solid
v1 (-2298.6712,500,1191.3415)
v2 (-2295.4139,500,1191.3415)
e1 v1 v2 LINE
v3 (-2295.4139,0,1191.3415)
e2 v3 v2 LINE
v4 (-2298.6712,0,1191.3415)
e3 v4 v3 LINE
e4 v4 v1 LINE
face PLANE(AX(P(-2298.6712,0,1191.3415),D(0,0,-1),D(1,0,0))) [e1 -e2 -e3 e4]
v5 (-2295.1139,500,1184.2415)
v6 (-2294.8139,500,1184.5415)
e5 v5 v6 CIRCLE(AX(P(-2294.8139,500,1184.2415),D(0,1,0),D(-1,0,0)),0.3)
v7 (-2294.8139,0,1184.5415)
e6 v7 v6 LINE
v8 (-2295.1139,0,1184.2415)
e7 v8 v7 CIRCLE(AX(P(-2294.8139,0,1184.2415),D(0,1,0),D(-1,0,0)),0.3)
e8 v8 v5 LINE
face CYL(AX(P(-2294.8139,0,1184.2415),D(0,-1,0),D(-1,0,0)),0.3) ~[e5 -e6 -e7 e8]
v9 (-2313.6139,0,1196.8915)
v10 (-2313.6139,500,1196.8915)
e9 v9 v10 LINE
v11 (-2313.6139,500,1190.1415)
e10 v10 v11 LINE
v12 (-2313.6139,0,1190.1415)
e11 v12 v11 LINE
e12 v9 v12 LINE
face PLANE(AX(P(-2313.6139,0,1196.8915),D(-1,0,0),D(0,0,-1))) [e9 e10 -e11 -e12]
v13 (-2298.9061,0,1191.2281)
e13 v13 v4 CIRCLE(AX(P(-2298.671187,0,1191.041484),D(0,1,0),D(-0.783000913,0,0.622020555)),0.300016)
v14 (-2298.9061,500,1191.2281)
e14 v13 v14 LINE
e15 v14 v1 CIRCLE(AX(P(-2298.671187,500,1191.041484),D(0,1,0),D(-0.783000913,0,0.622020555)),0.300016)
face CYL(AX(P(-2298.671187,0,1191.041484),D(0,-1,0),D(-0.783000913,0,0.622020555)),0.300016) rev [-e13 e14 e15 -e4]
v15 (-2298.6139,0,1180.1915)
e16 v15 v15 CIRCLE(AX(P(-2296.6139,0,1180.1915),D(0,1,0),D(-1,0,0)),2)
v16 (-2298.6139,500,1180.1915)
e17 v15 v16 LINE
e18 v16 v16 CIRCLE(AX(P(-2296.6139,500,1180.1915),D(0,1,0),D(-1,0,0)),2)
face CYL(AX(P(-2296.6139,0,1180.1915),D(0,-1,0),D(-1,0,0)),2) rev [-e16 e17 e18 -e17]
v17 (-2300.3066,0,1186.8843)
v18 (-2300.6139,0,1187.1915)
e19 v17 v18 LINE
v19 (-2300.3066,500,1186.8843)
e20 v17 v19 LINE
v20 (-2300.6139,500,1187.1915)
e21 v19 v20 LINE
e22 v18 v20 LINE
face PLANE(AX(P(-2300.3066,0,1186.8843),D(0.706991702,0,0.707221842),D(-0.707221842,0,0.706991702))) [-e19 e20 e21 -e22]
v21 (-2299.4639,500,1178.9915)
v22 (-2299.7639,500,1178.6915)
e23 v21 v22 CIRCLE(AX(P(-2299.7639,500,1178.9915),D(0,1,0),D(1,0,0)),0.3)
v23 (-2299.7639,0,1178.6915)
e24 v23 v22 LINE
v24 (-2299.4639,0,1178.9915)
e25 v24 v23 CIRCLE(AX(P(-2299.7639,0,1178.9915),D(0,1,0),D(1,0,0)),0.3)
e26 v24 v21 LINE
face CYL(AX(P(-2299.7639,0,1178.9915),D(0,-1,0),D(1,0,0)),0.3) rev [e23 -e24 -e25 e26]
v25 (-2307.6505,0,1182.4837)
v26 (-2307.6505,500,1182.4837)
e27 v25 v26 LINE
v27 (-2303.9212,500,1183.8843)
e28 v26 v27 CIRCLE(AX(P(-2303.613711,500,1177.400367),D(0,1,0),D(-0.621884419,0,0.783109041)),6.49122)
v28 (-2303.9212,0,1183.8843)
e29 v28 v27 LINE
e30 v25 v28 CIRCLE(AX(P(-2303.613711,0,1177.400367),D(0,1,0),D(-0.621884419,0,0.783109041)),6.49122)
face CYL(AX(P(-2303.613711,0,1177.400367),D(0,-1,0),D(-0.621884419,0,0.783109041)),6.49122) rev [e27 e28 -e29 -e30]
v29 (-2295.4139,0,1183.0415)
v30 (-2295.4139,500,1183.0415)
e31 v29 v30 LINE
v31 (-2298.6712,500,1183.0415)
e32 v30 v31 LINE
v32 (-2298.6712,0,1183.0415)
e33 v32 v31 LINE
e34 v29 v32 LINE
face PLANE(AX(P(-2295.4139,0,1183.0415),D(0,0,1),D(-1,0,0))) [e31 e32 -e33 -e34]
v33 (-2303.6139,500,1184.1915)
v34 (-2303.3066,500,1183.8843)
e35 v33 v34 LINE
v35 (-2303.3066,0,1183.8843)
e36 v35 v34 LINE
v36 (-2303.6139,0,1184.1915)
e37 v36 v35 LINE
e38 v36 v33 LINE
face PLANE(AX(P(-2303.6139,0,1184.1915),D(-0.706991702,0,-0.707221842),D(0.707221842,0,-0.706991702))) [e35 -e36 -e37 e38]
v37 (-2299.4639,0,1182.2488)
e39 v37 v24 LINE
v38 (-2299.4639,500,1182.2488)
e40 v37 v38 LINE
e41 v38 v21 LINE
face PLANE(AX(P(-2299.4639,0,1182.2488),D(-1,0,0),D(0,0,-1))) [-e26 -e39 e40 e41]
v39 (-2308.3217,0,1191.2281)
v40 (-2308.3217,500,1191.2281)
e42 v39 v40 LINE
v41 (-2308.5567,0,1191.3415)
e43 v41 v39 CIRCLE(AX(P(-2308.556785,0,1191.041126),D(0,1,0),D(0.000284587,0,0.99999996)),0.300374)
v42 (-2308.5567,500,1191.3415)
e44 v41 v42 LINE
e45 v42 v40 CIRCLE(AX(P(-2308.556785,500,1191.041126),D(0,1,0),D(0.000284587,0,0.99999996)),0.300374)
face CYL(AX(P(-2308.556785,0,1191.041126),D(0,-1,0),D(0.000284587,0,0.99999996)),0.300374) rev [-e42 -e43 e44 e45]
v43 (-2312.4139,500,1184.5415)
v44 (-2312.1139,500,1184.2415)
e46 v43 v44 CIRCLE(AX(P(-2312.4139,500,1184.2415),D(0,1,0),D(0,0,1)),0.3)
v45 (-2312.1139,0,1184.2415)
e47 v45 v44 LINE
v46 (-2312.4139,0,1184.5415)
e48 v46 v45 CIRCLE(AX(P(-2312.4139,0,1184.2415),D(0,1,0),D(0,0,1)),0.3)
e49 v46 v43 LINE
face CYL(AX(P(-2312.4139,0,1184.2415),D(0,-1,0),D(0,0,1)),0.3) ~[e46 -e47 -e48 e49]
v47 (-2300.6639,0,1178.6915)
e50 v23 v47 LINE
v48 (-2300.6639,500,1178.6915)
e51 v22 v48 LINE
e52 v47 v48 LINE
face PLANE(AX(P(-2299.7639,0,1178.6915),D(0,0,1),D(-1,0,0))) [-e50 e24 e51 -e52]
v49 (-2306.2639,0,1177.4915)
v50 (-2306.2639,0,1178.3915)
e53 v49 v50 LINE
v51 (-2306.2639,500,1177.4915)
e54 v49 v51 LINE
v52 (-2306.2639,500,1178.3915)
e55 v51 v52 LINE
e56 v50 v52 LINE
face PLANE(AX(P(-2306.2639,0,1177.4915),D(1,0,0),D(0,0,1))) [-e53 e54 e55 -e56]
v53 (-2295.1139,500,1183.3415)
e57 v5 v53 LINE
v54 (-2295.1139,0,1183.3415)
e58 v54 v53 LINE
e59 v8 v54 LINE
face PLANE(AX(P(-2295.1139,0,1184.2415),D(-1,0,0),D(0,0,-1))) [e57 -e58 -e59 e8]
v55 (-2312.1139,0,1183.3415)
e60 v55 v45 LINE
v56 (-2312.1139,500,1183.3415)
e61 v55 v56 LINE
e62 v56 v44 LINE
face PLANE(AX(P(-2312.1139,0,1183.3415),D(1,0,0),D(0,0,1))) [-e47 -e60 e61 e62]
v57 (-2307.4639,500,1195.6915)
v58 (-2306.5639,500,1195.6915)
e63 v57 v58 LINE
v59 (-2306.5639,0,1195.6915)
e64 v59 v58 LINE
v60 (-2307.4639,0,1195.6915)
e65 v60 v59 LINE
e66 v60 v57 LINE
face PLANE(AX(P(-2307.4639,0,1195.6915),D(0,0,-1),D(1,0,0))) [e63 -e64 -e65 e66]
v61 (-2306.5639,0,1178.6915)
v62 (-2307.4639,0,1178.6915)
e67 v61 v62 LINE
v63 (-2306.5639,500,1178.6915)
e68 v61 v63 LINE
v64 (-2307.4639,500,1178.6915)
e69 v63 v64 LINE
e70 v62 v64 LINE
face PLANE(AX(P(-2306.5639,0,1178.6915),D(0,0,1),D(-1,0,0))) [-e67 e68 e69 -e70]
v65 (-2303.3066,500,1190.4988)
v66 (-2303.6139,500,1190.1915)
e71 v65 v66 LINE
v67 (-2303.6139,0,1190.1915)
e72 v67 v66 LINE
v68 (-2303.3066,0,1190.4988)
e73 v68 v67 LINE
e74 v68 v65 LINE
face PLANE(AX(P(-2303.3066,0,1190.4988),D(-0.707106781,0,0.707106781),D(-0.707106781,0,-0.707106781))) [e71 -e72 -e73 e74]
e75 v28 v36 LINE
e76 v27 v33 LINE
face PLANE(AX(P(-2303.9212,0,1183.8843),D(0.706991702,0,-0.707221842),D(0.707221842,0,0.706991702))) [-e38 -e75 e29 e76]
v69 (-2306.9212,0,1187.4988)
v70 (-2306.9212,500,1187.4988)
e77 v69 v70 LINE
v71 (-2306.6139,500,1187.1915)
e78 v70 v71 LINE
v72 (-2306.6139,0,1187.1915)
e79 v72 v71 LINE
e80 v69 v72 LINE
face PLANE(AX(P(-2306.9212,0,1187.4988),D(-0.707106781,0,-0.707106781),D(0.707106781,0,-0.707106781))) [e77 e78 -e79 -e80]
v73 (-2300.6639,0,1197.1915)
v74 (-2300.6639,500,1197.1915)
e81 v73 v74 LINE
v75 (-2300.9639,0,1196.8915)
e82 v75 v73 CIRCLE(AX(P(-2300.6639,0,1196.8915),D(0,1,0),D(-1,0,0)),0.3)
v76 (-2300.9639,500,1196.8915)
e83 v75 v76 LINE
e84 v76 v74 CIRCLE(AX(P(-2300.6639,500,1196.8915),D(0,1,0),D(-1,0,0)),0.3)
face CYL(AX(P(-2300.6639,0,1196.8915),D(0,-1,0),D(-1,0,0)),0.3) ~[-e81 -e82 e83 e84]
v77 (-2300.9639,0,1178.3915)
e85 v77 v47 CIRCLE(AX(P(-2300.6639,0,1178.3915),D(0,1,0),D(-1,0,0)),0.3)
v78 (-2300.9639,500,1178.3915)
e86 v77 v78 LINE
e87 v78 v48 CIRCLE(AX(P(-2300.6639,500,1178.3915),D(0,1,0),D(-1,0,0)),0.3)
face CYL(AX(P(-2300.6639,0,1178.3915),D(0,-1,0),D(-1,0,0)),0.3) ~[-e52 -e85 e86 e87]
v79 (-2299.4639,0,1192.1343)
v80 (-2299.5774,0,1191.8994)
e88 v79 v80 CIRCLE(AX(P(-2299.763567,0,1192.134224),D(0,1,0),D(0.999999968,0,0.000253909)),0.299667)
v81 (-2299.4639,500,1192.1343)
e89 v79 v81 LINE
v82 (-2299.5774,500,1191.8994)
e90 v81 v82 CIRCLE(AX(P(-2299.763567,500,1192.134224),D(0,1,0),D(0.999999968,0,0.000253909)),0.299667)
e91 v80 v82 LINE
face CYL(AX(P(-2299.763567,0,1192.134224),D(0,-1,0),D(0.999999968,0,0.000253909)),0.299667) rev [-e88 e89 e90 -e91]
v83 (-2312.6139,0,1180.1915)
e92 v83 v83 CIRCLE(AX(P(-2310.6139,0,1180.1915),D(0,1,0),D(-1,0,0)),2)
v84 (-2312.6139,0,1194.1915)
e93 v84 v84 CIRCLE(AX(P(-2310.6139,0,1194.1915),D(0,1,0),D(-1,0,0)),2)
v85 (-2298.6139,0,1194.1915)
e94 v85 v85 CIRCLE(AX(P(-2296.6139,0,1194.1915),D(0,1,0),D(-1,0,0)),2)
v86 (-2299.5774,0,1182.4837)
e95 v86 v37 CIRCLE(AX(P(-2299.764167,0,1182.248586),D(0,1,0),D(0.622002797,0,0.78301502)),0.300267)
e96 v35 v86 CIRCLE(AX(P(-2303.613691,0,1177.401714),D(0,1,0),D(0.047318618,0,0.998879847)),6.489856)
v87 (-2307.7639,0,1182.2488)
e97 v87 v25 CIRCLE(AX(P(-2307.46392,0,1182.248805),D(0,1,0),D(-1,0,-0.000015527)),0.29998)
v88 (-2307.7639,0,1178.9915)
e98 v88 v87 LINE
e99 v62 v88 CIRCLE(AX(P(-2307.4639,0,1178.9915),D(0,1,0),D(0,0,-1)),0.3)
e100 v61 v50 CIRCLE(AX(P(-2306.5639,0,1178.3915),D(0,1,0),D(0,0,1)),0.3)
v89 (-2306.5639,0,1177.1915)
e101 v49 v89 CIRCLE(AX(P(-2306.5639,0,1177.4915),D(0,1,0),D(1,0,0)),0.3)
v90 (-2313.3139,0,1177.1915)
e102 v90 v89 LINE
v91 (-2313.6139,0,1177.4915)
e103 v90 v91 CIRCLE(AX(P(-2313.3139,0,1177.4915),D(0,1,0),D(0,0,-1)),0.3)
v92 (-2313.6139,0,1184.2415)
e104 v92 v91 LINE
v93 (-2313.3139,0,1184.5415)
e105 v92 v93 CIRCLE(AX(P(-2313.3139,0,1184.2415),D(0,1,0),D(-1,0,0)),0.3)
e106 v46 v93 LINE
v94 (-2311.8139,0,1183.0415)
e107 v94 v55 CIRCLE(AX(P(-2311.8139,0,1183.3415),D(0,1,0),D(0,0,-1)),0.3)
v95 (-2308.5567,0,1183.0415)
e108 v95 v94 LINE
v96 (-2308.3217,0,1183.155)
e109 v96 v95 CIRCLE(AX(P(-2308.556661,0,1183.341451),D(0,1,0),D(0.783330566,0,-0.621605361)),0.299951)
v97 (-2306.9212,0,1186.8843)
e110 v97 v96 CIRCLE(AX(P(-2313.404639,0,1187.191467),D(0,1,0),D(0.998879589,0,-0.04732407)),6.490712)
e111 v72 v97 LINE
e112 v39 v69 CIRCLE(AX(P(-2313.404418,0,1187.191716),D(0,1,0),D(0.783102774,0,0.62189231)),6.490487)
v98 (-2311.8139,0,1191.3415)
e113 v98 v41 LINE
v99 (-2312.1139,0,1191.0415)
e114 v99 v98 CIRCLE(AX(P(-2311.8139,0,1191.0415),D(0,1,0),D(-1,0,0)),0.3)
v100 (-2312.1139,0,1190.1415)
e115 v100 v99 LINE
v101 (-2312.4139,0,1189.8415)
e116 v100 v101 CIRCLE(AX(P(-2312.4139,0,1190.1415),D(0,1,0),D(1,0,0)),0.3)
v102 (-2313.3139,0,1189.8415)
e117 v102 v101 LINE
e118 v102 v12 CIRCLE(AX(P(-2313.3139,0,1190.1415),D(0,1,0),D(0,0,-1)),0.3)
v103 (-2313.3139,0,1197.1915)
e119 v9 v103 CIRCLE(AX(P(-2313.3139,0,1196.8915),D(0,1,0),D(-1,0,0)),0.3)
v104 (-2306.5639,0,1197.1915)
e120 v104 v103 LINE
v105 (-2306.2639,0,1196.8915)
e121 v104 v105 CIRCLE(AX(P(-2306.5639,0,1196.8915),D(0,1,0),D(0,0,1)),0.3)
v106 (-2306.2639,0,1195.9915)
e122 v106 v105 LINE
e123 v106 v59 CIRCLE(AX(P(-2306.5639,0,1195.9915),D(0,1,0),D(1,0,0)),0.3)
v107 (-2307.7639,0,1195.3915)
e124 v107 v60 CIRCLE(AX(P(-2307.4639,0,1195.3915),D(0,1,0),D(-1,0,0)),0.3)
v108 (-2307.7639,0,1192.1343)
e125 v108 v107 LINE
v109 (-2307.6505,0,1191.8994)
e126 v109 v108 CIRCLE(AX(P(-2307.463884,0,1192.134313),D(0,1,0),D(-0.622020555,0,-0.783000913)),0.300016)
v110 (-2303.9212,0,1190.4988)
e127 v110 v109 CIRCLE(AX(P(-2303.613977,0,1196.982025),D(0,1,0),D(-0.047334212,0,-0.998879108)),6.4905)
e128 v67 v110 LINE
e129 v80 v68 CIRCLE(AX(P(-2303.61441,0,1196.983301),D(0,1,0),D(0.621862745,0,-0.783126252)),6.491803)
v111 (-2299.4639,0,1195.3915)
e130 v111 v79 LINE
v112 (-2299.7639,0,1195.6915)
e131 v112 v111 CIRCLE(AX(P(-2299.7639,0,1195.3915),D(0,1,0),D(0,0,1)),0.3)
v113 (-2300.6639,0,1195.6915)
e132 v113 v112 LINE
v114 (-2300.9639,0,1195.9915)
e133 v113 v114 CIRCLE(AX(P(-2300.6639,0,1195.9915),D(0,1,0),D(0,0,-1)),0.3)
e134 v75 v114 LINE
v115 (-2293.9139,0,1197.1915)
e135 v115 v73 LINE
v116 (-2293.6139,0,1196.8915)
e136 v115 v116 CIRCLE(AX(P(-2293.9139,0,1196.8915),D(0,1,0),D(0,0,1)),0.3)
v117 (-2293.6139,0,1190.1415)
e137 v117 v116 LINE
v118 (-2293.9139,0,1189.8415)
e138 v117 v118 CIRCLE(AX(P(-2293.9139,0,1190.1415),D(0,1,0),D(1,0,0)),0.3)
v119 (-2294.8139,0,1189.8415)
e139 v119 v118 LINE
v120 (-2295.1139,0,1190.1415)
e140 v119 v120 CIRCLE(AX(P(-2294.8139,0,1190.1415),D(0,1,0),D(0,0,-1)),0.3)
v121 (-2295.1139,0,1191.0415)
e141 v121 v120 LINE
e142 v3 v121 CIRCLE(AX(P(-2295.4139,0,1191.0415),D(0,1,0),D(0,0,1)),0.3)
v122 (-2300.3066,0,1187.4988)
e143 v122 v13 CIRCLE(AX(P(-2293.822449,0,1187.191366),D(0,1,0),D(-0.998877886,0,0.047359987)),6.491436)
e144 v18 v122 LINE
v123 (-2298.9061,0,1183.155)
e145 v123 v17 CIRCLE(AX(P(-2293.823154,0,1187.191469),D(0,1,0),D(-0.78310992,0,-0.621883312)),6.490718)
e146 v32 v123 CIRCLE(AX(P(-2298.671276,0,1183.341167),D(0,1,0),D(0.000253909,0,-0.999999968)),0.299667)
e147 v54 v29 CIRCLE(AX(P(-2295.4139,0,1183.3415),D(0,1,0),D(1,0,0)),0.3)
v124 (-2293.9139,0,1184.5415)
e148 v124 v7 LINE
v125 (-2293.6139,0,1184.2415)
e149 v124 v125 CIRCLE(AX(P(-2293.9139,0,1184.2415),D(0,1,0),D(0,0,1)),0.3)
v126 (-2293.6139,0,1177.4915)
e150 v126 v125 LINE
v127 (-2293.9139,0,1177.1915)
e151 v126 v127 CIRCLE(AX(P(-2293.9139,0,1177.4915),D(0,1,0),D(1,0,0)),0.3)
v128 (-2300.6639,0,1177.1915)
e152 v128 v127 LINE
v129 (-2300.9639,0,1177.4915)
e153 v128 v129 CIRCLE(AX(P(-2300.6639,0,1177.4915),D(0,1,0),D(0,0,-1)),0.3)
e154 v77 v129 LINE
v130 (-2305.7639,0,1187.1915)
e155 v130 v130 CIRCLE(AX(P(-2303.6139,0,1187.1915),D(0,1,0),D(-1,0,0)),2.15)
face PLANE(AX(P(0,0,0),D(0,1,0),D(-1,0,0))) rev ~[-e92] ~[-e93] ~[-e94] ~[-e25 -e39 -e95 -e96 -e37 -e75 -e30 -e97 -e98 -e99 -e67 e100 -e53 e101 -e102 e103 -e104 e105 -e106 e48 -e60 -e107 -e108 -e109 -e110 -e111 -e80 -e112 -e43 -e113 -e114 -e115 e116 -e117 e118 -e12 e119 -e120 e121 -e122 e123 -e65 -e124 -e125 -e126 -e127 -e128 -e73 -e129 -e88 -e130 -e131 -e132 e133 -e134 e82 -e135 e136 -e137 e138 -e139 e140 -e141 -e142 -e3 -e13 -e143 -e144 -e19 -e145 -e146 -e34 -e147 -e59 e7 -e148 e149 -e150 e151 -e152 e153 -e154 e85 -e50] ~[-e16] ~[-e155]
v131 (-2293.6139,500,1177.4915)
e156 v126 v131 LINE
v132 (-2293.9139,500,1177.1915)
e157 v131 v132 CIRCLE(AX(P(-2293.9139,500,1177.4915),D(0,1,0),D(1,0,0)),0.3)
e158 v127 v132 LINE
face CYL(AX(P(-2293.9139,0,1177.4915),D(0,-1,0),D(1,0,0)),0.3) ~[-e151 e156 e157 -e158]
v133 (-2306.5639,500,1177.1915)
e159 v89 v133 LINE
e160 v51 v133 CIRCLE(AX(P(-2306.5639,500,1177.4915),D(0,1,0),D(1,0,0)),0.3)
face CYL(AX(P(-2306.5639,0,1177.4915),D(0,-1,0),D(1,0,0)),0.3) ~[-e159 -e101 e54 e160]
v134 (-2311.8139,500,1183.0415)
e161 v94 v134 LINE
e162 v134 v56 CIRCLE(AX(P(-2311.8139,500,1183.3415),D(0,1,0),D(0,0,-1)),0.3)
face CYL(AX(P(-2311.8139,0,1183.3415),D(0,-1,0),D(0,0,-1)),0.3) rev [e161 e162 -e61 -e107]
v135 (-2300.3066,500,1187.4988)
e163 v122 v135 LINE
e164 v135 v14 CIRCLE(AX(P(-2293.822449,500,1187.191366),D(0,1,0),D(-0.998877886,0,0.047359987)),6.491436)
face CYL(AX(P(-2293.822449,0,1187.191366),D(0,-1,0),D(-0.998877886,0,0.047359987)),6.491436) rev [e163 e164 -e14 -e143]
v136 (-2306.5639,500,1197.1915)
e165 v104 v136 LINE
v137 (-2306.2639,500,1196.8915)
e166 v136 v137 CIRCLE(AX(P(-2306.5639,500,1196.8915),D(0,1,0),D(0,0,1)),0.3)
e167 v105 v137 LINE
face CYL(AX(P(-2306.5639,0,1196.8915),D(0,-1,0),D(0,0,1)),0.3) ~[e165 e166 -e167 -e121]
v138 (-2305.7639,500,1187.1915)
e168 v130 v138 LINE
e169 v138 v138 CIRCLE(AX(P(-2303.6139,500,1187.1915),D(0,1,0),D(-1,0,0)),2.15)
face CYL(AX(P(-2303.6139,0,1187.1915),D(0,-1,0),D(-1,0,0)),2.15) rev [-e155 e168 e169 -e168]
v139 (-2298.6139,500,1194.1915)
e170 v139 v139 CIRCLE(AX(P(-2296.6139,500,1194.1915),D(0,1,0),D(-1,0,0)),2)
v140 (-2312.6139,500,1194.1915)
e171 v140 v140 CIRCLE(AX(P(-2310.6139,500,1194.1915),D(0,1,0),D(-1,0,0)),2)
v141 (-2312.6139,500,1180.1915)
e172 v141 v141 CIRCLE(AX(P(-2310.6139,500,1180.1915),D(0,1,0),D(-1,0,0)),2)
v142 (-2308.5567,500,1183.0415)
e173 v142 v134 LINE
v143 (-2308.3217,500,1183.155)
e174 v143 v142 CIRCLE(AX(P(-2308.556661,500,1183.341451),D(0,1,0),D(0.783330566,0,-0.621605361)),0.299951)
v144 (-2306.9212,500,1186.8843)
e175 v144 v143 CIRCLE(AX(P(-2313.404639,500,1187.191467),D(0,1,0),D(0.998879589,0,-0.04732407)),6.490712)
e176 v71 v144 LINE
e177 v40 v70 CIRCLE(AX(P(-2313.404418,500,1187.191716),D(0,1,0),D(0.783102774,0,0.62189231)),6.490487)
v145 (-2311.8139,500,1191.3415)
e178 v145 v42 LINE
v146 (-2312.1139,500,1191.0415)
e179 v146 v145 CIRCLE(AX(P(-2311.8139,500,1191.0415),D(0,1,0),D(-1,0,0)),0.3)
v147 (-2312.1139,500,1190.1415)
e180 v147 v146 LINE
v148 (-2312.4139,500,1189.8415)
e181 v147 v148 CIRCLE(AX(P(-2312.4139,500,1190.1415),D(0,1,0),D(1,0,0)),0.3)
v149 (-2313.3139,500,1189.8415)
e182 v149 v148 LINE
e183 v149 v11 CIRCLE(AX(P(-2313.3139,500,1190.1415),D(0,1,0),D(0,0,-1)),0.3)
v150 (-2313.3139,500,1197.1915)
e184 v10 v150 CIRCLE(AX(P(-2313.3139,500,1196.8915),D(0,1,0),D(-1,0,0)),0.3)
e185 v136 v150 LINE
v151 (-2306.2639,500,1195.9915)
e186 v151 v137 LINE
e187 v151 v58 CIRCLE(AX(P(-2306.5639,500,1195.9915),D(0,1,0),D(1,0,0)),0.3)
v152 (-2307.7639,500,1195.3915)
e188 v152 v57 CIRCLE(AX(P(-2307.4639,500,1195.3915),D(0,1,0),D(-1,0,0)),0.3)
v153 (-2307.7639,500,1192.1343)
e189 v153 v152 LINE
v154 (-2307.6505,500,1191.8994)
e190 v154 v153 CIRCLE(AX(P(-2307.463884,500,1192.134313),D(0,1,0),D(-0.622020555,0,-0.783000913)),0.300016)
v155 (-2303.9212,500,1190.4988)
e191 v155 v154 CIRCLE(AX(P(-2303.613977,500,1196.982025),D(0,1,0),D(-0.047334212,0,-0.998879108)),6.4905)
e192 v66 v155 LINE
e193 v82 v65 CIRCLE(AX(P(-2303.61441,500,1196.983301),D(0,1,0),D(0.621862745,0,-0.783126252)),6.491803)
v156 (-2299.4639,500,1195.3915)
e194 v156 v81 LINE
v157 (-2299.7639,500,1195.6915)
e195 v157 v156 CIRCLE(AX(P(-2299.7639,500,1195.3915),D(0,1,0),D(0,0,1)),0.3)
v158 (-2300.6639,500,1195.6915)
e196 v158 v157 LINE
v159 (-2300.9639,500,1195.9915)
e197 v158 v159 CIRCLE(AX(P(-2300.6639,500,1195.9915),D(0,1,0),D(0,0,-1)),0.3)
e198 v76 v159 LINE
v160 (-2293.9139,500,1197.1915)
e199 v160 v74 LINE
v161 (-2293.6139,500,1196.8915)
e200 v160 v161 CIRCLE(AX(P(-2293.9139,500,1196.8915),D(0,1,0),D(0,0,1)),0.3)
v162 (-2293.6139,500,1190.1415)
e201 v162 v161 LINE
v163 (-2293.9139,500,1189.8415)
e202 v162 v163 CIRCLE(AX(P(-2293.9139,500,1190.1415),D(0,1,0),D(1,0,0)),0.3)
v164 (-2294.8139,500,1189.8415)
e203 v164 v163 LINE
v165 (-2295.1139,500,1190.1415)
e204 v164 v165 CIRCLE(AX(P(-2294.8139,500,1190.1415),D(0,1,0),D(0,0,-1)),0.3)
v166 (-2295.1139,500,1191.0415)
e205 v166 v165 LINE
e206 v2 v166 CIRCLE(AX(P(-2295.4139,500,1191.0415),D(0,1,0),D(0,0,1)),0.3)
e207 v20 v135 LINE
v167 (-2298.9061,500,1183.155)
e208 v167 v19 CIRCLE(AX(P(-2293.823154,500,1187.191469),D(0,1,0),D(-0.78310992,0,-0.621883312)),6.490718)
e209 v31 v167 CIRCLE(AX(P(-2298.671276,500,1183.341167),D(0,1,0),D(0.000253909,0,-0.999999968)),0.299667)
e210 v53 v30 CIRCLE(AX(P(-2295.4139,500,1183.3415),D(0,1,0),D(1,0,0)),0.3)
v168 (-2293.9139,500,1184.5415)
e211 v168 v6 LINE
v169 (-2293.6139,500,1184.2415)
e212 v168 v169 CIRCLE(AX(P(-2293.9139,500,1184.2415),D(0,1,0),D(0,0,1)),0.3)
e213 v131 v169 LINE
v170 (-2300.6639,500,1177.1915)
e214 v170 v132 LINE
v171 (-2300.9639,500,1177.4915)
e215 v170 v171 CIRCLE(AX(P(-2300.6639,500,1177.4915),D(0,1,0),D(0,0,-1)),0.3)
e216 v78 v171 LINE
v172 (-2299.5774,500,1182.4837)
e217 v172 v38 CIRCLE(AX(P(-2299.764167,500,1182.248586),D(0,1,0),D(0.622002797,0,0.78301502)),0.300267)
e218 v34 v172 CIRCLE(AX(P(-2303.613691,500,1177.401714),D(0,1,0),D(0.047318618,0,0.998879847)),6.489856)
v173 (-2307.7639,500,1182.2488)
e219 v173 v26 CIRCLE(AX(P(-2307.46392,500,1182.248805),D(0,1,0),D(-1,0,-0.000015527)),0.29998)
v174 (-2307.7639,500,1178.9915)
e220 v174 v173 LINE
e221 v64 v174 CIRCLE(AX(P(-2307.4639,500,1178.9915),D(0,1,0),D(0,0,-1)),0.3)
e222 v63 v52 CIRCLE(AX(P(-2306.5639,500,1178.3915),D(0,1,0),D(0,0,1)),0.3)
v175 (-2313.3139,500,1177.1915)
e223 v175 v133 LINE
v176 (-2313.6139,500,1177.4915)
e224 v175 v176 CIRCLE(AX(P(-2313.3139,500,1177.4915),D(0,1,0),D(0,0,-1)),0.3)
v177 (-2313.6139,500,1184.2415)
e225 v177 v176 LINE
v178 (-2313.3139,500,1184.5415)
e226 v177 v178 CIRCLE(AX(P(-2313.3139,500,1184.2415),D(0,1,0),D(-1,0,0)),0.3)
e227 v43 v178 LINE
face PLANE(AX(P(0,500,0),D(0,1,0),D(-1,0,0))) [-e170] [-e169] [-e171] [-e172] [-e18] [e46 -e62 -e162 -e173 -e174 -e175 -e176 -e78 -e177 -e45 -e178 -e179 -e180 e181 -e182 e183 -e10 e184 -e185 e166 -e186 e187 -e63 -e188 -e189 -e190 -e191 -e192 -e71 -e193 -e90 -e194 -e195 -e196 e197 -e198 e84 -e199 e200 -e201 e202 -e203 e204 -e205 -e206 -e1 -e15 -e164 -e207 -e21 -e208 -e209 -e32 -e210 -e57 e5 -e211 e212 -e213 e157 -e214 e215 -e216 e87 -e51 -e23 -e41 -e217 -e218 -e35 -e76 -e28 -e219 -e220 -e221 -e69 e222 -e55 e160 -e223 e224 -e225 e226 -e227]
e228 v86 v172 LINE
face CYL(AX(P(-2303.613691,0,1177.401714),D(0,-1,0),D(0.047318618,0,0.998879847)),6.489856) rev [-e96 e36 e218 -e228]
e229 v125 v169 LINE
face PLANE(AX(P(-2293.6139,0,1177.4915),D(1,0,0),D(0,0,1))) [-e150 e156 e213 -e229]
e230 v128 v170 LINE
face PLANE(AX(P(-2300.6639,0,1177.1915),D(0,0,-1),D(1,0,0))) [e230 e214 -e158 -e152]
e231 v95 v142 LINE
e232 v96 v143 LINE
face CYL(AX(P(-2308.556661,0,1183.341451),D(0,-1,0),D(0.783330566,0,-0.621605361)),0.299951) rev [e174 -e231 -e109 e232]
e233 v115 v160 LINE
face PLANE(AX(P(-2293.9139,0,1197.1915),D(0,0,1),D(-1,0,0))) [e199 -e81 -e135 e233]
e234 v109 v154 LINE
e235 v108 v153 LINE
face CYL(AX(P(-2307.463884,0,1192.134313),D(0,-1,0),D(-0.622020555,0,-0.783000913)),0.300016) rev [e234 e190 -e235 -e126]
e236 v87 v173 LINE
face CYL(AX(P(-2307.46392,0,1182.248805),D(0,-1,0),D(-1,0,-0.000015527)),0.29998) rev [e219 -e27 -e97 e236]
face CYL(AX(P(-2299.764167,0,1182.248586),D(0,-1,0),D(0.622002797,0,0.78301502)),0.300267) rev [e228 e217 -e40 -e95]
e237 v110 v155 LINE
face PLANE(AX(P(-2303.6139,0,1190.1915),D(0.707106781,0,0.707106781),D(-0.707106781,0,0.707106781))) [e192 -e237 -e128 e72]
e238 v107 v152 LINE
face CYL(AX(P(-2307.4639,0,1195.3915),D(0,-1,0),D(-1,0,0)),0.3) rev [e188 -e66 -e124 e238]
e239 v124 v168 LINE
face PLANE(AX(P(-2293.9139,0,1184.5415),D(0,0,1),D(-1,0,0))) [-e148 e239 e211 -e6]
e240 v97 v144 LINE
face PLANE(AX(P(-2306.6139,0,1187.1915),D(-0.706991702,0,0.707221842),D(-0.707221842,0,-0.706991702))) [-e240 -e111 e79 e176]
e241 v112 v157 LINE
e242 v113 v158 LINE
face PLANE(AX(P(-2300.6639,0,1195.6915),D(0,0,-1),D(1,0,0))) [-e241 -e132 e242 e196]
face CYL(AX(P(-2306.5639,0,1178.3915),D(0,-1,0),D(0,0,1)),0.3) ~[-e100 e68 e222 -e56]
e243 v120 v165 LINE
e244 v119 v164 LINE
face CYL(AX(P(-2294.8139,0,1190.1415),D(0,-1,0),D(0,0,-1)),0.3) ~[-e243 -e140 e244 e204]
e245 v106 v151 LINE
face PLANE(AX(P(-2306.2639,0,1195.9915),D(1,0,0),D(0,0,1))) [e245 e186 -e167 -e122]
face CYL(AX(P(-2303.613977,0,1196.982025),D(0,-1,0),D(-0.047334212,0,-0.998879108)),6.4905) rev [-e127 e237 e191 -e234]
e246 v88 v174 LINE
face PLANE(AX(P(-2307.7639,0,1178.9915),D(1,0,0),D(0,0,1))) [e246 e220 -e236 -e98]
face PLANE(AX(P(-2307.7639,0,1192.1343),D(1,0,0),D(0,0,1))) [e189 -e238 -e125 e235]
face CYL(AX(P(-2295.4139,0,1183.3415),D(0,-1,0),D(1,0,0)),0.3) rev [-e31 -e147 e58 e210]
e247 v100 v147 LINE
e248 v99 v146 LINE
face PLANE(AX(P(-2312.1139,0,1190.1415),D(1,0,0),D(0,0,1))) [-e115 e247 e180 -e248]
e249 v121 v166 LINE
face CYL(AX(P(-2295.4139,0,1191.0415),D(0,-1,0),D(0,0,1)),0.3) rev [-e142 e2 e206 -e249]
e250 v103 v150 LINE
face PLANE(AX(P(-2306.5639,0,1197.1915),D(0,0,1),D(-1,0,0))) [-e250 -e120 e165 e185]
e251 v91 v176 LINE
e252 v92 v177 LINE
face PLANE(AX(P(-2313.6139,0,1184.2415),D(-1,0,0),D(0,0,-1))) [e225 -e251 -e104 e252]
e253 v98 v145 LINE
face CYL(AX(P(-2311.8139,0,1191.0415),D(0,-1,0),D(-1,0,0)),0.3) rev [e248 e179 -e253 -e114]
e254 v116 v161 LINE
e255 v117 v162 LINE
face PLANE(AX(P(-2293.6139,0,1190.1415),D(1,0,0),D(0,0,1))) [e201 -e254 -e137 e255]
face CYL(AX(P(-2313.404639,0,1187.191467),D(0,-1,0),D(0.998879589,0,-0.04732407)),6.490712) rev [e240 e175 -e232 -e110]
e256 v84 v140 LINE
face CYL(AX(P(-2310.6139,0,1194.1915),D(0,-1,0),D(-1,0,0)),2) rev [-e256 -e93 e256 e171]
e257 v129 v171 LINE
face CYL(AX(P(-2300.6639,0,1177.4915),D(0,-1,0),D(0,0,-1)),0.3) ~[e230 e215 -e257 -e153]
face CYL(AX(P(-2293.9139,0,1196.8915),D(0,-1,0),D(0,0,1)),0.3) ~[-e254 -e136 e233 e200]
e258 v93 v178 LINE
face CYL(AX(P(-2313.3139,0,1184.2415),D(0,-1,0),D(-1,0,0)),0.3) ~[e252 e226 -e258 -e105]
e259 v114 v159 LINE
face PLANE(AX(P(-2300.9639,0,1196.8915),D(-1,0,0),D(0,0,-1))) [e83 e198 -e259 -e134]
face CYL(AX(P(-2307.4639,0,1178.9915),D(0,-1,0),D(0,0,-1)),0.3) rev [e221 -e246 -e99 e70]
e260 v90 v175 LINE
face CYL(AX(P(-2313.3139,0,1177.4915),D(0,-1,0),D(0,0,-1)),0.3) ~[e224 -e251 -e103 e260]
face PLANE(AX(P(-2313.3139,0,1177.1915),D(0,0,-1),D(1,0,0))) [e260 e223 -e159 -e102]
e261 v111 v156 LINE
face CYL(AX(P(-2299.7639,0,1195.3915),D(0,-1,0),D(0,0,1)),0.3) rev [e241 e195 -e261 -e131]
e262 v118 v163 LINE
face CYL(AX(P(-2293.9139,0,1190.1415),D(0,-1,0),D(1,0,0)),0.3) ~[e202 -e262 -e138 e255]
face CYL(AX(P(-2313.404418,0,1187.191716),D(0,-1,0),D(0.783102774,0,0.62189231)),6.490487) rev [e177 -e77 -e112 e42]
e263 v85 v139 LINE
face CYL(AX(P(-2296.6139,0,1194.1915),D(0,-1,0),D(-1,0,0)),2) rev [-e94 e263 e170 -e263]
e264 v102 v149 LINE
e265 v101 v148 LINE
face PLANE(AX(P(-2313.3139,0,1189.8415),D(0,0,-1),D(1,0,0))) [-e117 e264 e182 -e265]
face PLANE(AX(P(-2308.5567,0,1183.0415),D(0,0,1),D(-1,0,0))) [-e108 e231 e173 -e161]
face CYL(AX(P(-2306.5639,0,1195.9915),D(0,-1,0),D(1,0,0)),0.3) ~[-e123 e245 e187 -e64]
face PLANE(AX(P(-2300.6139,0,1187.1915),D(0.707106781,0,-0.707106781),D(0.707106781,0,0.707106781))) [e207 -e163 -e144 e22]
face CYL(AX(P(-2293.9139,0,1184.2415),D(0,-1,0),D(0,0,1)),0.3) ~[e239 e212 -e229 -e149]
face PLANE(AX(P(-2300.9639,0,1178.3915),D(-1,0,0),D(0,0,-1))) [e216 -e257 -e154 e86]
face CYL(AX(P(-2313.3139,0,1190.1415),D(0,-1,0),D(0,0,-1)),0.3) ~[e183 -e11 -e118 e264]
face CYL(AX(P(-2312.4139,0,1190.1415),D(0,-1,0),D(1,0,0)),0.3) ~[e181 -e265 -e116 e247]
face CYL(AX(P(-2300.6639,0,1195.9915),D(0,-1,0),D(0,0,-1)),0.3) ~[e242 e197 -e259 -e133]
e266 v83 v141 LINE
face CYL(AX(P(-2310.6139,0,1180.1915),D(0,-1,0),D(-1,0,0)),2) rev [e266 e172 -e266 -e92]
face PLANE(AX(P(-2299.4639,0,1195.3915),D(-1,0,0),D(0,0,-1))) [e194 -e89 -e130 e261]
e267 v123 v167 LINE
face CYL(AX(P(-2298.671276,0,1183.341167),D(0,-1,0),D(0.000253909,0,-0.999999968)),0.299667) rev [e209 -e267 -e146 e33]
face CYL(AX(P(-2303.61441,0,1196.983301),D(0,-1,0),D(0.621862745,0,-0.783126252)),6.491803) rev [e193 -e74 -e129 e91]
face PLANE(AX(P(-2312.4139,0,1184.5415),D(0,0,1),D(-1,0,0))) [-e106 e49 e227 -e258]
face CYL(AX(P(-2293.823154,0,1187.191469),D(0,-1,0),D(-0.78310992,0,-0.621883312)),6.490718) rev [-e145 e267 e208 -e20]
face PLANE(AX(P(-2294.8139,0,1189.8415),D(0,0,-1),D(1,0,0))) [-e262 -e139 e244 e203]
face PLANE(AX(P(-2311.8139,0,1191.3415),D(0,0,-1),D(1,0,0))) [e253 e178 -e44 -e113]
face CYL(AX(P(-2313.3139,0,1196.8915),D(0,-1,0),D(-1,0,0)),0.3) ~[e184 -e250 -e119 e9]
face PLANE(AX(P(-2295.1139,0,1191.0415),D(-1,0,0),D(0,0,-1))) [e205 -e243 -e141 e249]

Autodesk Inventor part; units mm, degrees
ref_plane "YZ Plane" through (0, 0, 0) normal (1, 0, 0) x (0, 1, 0)
ref_plane "XZ Plane" through (0, 0, 0) normal (0, 1, 0) x (-1, 0, 0)
ref_plane "XY Plane" through (0, 0, 0) normal (0, 0, 1) x (1, 0, 0)
sketch "2020_Base" plane through (0, 0, 0) normal (0, 1, 0) x (-1, 0, 0)
  line L0 (2307.7639, 1192.1343) -> (2307.7639, 1195.3915) projected
  arc A0 (2307.7639, 1195.3915) -> (2307.4639, 1195.6915) centre (2307.4639, 1195.3915) ccw projected
  line L1 (2307.4639, 1195.6915) -> (2306.5639, 1195.6915) projected
  arc A1 (2306.2639, 1195.9915) -> (2306.5639, 1195.6915) centre (2306.5639, 1195.9915) ccw projected
  line L2 (2306.2639, 1195.9915) -> (2306.2639, 1196.8915) projected
  arc A2 (2306.5639, 1197.1915) -> (2306.2639, 1196.8915) centre (2306.5639, 1196.8915) ccw projected
  line L3 (2306.5639, 1197.1915) -> (2313.3139, 1197.1915) projected
  arc A3 (2313.6139, 1196.8915) -> (2313.3139, 1197.1915) centre (2313.3139, 1196.8915) ccw projected
  line L4 (2313.6139, 1196.8915) -> (2313.6139, 1190.1415) projected
  arc A4 (2313.3139, 1189.8415) -> (2313.6139, 1190.1415) centre (2313.3139, 1190.1415) ccw projected
  line L5 (2313.3139, 1189.8415) -> (2312.4139, 1189.8415) projected
  arc A5 (2312.1139, 1190.1415) -> (2312.4139, 1189.8415) centre (2312.4139, 1190.1415) ccw projected
  line L6 (2312.1139, 1190.1415) -> (2312.1139, 1191.0415) projected
  arc A6 (2312.1139, 1191.0415) -> (2311.8139, 1191.3415) centre (2311.8139, 1191.0415) ccw projected
  line L7 (2311.8139, 1191.3415) -> (2308.5567, 1191.3415) projected
  arc A7 (2308.5567, 1191.3415) -> (2308.3217, 1191.2281) centre (2308.5567, 1191.0415) ccw projected
  arc A8 (2308.3217, 1191.2281) -> (2306.9212, 1187.4988) centre (2313.4048, 1187.1915) ccw projected
  line L8 (2306.9212, 1187.4988) -> (2306.6139, 1187.1915) projected
  line L9 (2306.6139, 1187.1915) -> (2306.9212, 1186.8843) projected
  arc A9 (2306.9212, 1186.8843) -> (2308.3217, 1183.155) centre (2313.4048, 1187.1915) ccw projected
  arc A10 (2308.3217, 1183.155) -> (2308.5567, 1183.0415) centre (2308.5567, 1183.3415) ccw projected
  line L10 (2308.5567, 1183.0415) -> (2311.8139, 1183.0415) projected
  arc A11 (2311.8139, 1183.0415) -> (2312.1139, 1183.3415) centre (2311.8139, 1183.3415) ccw projected
  line L11 (2312.1139, 1183.3415) -> (2312.1139, 1184.2415) projected
  arc A12 (2312.4139, 1184.5415) -> (2312.1139, 1184.2415) centre (2312.4139, 1184.2415) ccw projected
  line L12 (2312.4139, 1184.5415) -> (2313.3139, 1184.5415) projected
  arc A13 (2313.6139, 1184.2415) -> (2313.3139, 1184.5415) centre (2313.3139, 1184.2415) ccw projected
  line L13 (2313.6139, 1184.2415) -> (2313.6139, 1177.4915) projected
  arc A14 (2313.3139, 1177.1915) -> (2313.6139, 1177.4915) centre (2313.3139, 1177.4915) ccw projected
  line L14 (2313.3139, 1177.1915) -> (2306.5639, 1177.1915) projected
  arc A15 (2306.2639, 1177.4915) -> (2306.5639, 1177.1915) centre (2306.5639, 1177.4915) ccw projected
  line L15 (2306.2639, 1177.4915) -> (2306.2639, 1178.3915) projected
  arc A16 (2306.5639, 1178.6915) -> (2306.2639, 1178.3915) centre (2306.5639, 1178.3915) ccw projected
  line L16 (2306.5639, 1178.6915) -> (2307.4639, 1178.6915) projected
  arc A17 (2307.4639, 1178.6915) -> (2307.7639, 1178.9915) centre (2307.4639, 1178.9915) ccw projected
  line L17 (2307.7639, 1178.9915) -> (2307.7639, 1182.2488) projected
  arc A18 (2307.7639, 1182.2488) -> (2307.6505, 1182.4837) centre (2307.4639, 1182.2488) ccw projected
  arc A19 (2307.6505, 1182.4837) -> (2303.9212, 1183.8843) centre (2303.6139, 1177.4007) ccw projected
  line L18 (2303.9212, 1183.8843) -> (2303.6139, 1184.1915) projected
  line L19 (2303.6139, 1184.1915) -> (2303.3066, 1183.8843) projected
  arc A20 (2303.3066, 1183.8843) -> (2299.5774, 1182.4837) centre (2303.6139, 1177.4007) ccw projected
  arc A21 (2299.5774, 1182.4837) -> (2299.4639, 1182.2488) centre (2299.7639, 1182.2488) ccw projected
  line L20 (2299.4639, 1182.2488) -> (2299.4639, 1178.9915) projected
  arc A22 (2299.4639, 1178.9915) -> (2299.7639, 1178.6915) centre (2299.7639, 1178.9915) ccw projected
  line L21 (2299.7639, 1178.6915) -> (2300.6639, 1178.6915) projected
  arc A23 (2300.9639, 1178.3915) -> (2300.6639, 1178.6915) centre (2300.6639, 1178.3915) ccw projected
  line L22 (2300.9639, 1178.3915) -> (2300.9639, 1177.4915) projected
  arc A24 (2300.6639, 1177.1915) -> (2300.9639, 1177.4915) centre (2300.6639, 1177.4915) ccw projected
  line L23 (2300.6639, 1177.1915) -> (2293.9139, 1177.1915) projected
  arc A25 (2293.6139, 1177.4915) -> (2293.9139, 1177.1915) centre (2293.9139, 1177.4915) ccw projected
  line L24 (2293.6139, 1177.4915) -> (2293.6139, 1184.2415) projected
  arc A26 (2293.9139, 1184.5415) -> (2293.6139, 1184.2415) centre (2293.9139, 1184.2415) ccw projected
  line L25 (2293.9139, 1184.5415) -> (2294.8139, 1184.5415) projected
  arc A27 (2295.1139, 1184.2415) -> (2294.8139, 1184.5415) centre (2294.8139, 1184.2415) ccw projected
  line L26 (2295.1139, 1184.2415) -> (2295.1139, 1183.3415) projected
  arc A28 (2295.1139, 1183.3415) -> (2295.4139, 1183.0415) centre (2295.4139, 1183.3415) ccw projected
  line L27 (2295.4139, 1183.0415) -> (2298.6712, 1183.0415) projected
  arc A29 (2298.6712, 1183.0415) -> (2298.9061, 1183.155) centre (2298.6712, 1183.3415) ccw projected
  arc A30 (2298.9061, 1183.155) -> (2300.3066, 1186.8843) centre (2293.8231, 1187.1915) ccw projected
  line L28 (2300.3066, 1186.8843) -> (2300.6139, 1187.1915) projected
  line L29 (2300.6139, 1187.1915) -> (2300.3066, 1187.4988) projected
  arc A31 (2300.3066, 1187.4988) -> (2298.9061, 1191.2281) centre (2293.8231, 1187.1915) ccw projected
  arc A32 (2298.9061, 1191.2281) -> (2298.6712, 1191.3415) centre (2298.6712, 1191.0415) ccw projected
  line L30 (2298.6712, 1191.3415) -> (2295.4139, 1191.3415) projected
  arc A33 (2295.4139, 1191.3415) -> (2295.1139, 1191.0415) centre (2295.4139, 1191.0415) ccw projected
  line L31 (2295.1139, 1191.0415) -> (2295.1139, 1190.1415) projected
  arc A34 (2294.8139, 1189.8415) -> (2295.1139, 1190.1415) centre (2294.8139, 1190.1415) ccw projected
  line L32 (2294.8139, 1189.8415) -> (2293.9139, 1189.8415) projected
  arc A35 (2293.6139, 1190.1415) -> (2293.9139, 1189.8415) centre (2293.9139, 1190.1415) ccw projected
  line L33 (2293.6139, 1190.1415) -> (2293.6139, 1196.8915) projected
  arc A36 (2293.9139, 1197.1915) -> (2293.6139, 1196.8915) centre (2293.9139, 1196.8915) ccw projected
  line L34 (2293.9139, 1197.1915) -> (2300.6639, 1197.1915) projected
  arc A37 (2300.9639, 1196.8915) -> (2300.6639, 1197.1915) centre (2300.6639, 1196.8915) ccw projected
  line L35 (2300.9639, 1196.8915) -> (2300.9639, 1195.9915) projected
  arc A38 (2300.6639, 1195.6915) -> (2300.9639, 1195.9915) centre (2300.6639, 1195.9915) ccw projected
  line L36 (2300.6639, 1195.6915) -> (2299.7639, 1195.6915) projected
  arc A39 (2299.7639, 1195.6915) -> (2299.4639, 1195.3915) centre (2299.7639, 1195.3915) ccw projected
  line L37 (2299.4639, 1195.3915) -> (2299.4639, 1192.1343) projected
  arc A40 (2299.4639, 1192.1343) -> (2299.5774, 1191.8994) centre (2299.7639, 1192.1343) ccw projected
  arc A41 (2299.5774, 1191.8994) -> (2303.3066, 1190.4988) centre (2303.6139, 1196.9824) ccw projected
  line L38 (2303.3066, 1190.4988) -> (2303.6139, 1190.1915) projected
  line L39 (2303.6139, 1190.1915) -> (2303.9212, 1190.4988) projected
  arc A42 (2303.9212, 1190.4988) -> (2307.6505, 1191.8994) centre (2303.6139, 1196.9824) ccw projected
  arc A43 (2307.6505, 1191.8994) -> (2307.7639, 1192.1343) centre (2307.4639, 1192.1343) ccw projected
  circle A44 centre (2310.6139, 1194.1915) radius 2 projected
  circle A45 centre (2303.6139, 1187.1915) radius 2.15 projected
  circle A46 centre (2296.6139, 1194.1915) radius 2 projected
  circle A47 centre (2296.6139, 1180.1915) radius 2 projected
  circle A48 centre (2310.6139, 1180.1915) radius 2 projected
  point P0 (0, 0)
extrude "500mm 2020" add sketch "2020_Base" along normal blind 500
properties part number "100mm 2020" material "알루미늄 6061"
